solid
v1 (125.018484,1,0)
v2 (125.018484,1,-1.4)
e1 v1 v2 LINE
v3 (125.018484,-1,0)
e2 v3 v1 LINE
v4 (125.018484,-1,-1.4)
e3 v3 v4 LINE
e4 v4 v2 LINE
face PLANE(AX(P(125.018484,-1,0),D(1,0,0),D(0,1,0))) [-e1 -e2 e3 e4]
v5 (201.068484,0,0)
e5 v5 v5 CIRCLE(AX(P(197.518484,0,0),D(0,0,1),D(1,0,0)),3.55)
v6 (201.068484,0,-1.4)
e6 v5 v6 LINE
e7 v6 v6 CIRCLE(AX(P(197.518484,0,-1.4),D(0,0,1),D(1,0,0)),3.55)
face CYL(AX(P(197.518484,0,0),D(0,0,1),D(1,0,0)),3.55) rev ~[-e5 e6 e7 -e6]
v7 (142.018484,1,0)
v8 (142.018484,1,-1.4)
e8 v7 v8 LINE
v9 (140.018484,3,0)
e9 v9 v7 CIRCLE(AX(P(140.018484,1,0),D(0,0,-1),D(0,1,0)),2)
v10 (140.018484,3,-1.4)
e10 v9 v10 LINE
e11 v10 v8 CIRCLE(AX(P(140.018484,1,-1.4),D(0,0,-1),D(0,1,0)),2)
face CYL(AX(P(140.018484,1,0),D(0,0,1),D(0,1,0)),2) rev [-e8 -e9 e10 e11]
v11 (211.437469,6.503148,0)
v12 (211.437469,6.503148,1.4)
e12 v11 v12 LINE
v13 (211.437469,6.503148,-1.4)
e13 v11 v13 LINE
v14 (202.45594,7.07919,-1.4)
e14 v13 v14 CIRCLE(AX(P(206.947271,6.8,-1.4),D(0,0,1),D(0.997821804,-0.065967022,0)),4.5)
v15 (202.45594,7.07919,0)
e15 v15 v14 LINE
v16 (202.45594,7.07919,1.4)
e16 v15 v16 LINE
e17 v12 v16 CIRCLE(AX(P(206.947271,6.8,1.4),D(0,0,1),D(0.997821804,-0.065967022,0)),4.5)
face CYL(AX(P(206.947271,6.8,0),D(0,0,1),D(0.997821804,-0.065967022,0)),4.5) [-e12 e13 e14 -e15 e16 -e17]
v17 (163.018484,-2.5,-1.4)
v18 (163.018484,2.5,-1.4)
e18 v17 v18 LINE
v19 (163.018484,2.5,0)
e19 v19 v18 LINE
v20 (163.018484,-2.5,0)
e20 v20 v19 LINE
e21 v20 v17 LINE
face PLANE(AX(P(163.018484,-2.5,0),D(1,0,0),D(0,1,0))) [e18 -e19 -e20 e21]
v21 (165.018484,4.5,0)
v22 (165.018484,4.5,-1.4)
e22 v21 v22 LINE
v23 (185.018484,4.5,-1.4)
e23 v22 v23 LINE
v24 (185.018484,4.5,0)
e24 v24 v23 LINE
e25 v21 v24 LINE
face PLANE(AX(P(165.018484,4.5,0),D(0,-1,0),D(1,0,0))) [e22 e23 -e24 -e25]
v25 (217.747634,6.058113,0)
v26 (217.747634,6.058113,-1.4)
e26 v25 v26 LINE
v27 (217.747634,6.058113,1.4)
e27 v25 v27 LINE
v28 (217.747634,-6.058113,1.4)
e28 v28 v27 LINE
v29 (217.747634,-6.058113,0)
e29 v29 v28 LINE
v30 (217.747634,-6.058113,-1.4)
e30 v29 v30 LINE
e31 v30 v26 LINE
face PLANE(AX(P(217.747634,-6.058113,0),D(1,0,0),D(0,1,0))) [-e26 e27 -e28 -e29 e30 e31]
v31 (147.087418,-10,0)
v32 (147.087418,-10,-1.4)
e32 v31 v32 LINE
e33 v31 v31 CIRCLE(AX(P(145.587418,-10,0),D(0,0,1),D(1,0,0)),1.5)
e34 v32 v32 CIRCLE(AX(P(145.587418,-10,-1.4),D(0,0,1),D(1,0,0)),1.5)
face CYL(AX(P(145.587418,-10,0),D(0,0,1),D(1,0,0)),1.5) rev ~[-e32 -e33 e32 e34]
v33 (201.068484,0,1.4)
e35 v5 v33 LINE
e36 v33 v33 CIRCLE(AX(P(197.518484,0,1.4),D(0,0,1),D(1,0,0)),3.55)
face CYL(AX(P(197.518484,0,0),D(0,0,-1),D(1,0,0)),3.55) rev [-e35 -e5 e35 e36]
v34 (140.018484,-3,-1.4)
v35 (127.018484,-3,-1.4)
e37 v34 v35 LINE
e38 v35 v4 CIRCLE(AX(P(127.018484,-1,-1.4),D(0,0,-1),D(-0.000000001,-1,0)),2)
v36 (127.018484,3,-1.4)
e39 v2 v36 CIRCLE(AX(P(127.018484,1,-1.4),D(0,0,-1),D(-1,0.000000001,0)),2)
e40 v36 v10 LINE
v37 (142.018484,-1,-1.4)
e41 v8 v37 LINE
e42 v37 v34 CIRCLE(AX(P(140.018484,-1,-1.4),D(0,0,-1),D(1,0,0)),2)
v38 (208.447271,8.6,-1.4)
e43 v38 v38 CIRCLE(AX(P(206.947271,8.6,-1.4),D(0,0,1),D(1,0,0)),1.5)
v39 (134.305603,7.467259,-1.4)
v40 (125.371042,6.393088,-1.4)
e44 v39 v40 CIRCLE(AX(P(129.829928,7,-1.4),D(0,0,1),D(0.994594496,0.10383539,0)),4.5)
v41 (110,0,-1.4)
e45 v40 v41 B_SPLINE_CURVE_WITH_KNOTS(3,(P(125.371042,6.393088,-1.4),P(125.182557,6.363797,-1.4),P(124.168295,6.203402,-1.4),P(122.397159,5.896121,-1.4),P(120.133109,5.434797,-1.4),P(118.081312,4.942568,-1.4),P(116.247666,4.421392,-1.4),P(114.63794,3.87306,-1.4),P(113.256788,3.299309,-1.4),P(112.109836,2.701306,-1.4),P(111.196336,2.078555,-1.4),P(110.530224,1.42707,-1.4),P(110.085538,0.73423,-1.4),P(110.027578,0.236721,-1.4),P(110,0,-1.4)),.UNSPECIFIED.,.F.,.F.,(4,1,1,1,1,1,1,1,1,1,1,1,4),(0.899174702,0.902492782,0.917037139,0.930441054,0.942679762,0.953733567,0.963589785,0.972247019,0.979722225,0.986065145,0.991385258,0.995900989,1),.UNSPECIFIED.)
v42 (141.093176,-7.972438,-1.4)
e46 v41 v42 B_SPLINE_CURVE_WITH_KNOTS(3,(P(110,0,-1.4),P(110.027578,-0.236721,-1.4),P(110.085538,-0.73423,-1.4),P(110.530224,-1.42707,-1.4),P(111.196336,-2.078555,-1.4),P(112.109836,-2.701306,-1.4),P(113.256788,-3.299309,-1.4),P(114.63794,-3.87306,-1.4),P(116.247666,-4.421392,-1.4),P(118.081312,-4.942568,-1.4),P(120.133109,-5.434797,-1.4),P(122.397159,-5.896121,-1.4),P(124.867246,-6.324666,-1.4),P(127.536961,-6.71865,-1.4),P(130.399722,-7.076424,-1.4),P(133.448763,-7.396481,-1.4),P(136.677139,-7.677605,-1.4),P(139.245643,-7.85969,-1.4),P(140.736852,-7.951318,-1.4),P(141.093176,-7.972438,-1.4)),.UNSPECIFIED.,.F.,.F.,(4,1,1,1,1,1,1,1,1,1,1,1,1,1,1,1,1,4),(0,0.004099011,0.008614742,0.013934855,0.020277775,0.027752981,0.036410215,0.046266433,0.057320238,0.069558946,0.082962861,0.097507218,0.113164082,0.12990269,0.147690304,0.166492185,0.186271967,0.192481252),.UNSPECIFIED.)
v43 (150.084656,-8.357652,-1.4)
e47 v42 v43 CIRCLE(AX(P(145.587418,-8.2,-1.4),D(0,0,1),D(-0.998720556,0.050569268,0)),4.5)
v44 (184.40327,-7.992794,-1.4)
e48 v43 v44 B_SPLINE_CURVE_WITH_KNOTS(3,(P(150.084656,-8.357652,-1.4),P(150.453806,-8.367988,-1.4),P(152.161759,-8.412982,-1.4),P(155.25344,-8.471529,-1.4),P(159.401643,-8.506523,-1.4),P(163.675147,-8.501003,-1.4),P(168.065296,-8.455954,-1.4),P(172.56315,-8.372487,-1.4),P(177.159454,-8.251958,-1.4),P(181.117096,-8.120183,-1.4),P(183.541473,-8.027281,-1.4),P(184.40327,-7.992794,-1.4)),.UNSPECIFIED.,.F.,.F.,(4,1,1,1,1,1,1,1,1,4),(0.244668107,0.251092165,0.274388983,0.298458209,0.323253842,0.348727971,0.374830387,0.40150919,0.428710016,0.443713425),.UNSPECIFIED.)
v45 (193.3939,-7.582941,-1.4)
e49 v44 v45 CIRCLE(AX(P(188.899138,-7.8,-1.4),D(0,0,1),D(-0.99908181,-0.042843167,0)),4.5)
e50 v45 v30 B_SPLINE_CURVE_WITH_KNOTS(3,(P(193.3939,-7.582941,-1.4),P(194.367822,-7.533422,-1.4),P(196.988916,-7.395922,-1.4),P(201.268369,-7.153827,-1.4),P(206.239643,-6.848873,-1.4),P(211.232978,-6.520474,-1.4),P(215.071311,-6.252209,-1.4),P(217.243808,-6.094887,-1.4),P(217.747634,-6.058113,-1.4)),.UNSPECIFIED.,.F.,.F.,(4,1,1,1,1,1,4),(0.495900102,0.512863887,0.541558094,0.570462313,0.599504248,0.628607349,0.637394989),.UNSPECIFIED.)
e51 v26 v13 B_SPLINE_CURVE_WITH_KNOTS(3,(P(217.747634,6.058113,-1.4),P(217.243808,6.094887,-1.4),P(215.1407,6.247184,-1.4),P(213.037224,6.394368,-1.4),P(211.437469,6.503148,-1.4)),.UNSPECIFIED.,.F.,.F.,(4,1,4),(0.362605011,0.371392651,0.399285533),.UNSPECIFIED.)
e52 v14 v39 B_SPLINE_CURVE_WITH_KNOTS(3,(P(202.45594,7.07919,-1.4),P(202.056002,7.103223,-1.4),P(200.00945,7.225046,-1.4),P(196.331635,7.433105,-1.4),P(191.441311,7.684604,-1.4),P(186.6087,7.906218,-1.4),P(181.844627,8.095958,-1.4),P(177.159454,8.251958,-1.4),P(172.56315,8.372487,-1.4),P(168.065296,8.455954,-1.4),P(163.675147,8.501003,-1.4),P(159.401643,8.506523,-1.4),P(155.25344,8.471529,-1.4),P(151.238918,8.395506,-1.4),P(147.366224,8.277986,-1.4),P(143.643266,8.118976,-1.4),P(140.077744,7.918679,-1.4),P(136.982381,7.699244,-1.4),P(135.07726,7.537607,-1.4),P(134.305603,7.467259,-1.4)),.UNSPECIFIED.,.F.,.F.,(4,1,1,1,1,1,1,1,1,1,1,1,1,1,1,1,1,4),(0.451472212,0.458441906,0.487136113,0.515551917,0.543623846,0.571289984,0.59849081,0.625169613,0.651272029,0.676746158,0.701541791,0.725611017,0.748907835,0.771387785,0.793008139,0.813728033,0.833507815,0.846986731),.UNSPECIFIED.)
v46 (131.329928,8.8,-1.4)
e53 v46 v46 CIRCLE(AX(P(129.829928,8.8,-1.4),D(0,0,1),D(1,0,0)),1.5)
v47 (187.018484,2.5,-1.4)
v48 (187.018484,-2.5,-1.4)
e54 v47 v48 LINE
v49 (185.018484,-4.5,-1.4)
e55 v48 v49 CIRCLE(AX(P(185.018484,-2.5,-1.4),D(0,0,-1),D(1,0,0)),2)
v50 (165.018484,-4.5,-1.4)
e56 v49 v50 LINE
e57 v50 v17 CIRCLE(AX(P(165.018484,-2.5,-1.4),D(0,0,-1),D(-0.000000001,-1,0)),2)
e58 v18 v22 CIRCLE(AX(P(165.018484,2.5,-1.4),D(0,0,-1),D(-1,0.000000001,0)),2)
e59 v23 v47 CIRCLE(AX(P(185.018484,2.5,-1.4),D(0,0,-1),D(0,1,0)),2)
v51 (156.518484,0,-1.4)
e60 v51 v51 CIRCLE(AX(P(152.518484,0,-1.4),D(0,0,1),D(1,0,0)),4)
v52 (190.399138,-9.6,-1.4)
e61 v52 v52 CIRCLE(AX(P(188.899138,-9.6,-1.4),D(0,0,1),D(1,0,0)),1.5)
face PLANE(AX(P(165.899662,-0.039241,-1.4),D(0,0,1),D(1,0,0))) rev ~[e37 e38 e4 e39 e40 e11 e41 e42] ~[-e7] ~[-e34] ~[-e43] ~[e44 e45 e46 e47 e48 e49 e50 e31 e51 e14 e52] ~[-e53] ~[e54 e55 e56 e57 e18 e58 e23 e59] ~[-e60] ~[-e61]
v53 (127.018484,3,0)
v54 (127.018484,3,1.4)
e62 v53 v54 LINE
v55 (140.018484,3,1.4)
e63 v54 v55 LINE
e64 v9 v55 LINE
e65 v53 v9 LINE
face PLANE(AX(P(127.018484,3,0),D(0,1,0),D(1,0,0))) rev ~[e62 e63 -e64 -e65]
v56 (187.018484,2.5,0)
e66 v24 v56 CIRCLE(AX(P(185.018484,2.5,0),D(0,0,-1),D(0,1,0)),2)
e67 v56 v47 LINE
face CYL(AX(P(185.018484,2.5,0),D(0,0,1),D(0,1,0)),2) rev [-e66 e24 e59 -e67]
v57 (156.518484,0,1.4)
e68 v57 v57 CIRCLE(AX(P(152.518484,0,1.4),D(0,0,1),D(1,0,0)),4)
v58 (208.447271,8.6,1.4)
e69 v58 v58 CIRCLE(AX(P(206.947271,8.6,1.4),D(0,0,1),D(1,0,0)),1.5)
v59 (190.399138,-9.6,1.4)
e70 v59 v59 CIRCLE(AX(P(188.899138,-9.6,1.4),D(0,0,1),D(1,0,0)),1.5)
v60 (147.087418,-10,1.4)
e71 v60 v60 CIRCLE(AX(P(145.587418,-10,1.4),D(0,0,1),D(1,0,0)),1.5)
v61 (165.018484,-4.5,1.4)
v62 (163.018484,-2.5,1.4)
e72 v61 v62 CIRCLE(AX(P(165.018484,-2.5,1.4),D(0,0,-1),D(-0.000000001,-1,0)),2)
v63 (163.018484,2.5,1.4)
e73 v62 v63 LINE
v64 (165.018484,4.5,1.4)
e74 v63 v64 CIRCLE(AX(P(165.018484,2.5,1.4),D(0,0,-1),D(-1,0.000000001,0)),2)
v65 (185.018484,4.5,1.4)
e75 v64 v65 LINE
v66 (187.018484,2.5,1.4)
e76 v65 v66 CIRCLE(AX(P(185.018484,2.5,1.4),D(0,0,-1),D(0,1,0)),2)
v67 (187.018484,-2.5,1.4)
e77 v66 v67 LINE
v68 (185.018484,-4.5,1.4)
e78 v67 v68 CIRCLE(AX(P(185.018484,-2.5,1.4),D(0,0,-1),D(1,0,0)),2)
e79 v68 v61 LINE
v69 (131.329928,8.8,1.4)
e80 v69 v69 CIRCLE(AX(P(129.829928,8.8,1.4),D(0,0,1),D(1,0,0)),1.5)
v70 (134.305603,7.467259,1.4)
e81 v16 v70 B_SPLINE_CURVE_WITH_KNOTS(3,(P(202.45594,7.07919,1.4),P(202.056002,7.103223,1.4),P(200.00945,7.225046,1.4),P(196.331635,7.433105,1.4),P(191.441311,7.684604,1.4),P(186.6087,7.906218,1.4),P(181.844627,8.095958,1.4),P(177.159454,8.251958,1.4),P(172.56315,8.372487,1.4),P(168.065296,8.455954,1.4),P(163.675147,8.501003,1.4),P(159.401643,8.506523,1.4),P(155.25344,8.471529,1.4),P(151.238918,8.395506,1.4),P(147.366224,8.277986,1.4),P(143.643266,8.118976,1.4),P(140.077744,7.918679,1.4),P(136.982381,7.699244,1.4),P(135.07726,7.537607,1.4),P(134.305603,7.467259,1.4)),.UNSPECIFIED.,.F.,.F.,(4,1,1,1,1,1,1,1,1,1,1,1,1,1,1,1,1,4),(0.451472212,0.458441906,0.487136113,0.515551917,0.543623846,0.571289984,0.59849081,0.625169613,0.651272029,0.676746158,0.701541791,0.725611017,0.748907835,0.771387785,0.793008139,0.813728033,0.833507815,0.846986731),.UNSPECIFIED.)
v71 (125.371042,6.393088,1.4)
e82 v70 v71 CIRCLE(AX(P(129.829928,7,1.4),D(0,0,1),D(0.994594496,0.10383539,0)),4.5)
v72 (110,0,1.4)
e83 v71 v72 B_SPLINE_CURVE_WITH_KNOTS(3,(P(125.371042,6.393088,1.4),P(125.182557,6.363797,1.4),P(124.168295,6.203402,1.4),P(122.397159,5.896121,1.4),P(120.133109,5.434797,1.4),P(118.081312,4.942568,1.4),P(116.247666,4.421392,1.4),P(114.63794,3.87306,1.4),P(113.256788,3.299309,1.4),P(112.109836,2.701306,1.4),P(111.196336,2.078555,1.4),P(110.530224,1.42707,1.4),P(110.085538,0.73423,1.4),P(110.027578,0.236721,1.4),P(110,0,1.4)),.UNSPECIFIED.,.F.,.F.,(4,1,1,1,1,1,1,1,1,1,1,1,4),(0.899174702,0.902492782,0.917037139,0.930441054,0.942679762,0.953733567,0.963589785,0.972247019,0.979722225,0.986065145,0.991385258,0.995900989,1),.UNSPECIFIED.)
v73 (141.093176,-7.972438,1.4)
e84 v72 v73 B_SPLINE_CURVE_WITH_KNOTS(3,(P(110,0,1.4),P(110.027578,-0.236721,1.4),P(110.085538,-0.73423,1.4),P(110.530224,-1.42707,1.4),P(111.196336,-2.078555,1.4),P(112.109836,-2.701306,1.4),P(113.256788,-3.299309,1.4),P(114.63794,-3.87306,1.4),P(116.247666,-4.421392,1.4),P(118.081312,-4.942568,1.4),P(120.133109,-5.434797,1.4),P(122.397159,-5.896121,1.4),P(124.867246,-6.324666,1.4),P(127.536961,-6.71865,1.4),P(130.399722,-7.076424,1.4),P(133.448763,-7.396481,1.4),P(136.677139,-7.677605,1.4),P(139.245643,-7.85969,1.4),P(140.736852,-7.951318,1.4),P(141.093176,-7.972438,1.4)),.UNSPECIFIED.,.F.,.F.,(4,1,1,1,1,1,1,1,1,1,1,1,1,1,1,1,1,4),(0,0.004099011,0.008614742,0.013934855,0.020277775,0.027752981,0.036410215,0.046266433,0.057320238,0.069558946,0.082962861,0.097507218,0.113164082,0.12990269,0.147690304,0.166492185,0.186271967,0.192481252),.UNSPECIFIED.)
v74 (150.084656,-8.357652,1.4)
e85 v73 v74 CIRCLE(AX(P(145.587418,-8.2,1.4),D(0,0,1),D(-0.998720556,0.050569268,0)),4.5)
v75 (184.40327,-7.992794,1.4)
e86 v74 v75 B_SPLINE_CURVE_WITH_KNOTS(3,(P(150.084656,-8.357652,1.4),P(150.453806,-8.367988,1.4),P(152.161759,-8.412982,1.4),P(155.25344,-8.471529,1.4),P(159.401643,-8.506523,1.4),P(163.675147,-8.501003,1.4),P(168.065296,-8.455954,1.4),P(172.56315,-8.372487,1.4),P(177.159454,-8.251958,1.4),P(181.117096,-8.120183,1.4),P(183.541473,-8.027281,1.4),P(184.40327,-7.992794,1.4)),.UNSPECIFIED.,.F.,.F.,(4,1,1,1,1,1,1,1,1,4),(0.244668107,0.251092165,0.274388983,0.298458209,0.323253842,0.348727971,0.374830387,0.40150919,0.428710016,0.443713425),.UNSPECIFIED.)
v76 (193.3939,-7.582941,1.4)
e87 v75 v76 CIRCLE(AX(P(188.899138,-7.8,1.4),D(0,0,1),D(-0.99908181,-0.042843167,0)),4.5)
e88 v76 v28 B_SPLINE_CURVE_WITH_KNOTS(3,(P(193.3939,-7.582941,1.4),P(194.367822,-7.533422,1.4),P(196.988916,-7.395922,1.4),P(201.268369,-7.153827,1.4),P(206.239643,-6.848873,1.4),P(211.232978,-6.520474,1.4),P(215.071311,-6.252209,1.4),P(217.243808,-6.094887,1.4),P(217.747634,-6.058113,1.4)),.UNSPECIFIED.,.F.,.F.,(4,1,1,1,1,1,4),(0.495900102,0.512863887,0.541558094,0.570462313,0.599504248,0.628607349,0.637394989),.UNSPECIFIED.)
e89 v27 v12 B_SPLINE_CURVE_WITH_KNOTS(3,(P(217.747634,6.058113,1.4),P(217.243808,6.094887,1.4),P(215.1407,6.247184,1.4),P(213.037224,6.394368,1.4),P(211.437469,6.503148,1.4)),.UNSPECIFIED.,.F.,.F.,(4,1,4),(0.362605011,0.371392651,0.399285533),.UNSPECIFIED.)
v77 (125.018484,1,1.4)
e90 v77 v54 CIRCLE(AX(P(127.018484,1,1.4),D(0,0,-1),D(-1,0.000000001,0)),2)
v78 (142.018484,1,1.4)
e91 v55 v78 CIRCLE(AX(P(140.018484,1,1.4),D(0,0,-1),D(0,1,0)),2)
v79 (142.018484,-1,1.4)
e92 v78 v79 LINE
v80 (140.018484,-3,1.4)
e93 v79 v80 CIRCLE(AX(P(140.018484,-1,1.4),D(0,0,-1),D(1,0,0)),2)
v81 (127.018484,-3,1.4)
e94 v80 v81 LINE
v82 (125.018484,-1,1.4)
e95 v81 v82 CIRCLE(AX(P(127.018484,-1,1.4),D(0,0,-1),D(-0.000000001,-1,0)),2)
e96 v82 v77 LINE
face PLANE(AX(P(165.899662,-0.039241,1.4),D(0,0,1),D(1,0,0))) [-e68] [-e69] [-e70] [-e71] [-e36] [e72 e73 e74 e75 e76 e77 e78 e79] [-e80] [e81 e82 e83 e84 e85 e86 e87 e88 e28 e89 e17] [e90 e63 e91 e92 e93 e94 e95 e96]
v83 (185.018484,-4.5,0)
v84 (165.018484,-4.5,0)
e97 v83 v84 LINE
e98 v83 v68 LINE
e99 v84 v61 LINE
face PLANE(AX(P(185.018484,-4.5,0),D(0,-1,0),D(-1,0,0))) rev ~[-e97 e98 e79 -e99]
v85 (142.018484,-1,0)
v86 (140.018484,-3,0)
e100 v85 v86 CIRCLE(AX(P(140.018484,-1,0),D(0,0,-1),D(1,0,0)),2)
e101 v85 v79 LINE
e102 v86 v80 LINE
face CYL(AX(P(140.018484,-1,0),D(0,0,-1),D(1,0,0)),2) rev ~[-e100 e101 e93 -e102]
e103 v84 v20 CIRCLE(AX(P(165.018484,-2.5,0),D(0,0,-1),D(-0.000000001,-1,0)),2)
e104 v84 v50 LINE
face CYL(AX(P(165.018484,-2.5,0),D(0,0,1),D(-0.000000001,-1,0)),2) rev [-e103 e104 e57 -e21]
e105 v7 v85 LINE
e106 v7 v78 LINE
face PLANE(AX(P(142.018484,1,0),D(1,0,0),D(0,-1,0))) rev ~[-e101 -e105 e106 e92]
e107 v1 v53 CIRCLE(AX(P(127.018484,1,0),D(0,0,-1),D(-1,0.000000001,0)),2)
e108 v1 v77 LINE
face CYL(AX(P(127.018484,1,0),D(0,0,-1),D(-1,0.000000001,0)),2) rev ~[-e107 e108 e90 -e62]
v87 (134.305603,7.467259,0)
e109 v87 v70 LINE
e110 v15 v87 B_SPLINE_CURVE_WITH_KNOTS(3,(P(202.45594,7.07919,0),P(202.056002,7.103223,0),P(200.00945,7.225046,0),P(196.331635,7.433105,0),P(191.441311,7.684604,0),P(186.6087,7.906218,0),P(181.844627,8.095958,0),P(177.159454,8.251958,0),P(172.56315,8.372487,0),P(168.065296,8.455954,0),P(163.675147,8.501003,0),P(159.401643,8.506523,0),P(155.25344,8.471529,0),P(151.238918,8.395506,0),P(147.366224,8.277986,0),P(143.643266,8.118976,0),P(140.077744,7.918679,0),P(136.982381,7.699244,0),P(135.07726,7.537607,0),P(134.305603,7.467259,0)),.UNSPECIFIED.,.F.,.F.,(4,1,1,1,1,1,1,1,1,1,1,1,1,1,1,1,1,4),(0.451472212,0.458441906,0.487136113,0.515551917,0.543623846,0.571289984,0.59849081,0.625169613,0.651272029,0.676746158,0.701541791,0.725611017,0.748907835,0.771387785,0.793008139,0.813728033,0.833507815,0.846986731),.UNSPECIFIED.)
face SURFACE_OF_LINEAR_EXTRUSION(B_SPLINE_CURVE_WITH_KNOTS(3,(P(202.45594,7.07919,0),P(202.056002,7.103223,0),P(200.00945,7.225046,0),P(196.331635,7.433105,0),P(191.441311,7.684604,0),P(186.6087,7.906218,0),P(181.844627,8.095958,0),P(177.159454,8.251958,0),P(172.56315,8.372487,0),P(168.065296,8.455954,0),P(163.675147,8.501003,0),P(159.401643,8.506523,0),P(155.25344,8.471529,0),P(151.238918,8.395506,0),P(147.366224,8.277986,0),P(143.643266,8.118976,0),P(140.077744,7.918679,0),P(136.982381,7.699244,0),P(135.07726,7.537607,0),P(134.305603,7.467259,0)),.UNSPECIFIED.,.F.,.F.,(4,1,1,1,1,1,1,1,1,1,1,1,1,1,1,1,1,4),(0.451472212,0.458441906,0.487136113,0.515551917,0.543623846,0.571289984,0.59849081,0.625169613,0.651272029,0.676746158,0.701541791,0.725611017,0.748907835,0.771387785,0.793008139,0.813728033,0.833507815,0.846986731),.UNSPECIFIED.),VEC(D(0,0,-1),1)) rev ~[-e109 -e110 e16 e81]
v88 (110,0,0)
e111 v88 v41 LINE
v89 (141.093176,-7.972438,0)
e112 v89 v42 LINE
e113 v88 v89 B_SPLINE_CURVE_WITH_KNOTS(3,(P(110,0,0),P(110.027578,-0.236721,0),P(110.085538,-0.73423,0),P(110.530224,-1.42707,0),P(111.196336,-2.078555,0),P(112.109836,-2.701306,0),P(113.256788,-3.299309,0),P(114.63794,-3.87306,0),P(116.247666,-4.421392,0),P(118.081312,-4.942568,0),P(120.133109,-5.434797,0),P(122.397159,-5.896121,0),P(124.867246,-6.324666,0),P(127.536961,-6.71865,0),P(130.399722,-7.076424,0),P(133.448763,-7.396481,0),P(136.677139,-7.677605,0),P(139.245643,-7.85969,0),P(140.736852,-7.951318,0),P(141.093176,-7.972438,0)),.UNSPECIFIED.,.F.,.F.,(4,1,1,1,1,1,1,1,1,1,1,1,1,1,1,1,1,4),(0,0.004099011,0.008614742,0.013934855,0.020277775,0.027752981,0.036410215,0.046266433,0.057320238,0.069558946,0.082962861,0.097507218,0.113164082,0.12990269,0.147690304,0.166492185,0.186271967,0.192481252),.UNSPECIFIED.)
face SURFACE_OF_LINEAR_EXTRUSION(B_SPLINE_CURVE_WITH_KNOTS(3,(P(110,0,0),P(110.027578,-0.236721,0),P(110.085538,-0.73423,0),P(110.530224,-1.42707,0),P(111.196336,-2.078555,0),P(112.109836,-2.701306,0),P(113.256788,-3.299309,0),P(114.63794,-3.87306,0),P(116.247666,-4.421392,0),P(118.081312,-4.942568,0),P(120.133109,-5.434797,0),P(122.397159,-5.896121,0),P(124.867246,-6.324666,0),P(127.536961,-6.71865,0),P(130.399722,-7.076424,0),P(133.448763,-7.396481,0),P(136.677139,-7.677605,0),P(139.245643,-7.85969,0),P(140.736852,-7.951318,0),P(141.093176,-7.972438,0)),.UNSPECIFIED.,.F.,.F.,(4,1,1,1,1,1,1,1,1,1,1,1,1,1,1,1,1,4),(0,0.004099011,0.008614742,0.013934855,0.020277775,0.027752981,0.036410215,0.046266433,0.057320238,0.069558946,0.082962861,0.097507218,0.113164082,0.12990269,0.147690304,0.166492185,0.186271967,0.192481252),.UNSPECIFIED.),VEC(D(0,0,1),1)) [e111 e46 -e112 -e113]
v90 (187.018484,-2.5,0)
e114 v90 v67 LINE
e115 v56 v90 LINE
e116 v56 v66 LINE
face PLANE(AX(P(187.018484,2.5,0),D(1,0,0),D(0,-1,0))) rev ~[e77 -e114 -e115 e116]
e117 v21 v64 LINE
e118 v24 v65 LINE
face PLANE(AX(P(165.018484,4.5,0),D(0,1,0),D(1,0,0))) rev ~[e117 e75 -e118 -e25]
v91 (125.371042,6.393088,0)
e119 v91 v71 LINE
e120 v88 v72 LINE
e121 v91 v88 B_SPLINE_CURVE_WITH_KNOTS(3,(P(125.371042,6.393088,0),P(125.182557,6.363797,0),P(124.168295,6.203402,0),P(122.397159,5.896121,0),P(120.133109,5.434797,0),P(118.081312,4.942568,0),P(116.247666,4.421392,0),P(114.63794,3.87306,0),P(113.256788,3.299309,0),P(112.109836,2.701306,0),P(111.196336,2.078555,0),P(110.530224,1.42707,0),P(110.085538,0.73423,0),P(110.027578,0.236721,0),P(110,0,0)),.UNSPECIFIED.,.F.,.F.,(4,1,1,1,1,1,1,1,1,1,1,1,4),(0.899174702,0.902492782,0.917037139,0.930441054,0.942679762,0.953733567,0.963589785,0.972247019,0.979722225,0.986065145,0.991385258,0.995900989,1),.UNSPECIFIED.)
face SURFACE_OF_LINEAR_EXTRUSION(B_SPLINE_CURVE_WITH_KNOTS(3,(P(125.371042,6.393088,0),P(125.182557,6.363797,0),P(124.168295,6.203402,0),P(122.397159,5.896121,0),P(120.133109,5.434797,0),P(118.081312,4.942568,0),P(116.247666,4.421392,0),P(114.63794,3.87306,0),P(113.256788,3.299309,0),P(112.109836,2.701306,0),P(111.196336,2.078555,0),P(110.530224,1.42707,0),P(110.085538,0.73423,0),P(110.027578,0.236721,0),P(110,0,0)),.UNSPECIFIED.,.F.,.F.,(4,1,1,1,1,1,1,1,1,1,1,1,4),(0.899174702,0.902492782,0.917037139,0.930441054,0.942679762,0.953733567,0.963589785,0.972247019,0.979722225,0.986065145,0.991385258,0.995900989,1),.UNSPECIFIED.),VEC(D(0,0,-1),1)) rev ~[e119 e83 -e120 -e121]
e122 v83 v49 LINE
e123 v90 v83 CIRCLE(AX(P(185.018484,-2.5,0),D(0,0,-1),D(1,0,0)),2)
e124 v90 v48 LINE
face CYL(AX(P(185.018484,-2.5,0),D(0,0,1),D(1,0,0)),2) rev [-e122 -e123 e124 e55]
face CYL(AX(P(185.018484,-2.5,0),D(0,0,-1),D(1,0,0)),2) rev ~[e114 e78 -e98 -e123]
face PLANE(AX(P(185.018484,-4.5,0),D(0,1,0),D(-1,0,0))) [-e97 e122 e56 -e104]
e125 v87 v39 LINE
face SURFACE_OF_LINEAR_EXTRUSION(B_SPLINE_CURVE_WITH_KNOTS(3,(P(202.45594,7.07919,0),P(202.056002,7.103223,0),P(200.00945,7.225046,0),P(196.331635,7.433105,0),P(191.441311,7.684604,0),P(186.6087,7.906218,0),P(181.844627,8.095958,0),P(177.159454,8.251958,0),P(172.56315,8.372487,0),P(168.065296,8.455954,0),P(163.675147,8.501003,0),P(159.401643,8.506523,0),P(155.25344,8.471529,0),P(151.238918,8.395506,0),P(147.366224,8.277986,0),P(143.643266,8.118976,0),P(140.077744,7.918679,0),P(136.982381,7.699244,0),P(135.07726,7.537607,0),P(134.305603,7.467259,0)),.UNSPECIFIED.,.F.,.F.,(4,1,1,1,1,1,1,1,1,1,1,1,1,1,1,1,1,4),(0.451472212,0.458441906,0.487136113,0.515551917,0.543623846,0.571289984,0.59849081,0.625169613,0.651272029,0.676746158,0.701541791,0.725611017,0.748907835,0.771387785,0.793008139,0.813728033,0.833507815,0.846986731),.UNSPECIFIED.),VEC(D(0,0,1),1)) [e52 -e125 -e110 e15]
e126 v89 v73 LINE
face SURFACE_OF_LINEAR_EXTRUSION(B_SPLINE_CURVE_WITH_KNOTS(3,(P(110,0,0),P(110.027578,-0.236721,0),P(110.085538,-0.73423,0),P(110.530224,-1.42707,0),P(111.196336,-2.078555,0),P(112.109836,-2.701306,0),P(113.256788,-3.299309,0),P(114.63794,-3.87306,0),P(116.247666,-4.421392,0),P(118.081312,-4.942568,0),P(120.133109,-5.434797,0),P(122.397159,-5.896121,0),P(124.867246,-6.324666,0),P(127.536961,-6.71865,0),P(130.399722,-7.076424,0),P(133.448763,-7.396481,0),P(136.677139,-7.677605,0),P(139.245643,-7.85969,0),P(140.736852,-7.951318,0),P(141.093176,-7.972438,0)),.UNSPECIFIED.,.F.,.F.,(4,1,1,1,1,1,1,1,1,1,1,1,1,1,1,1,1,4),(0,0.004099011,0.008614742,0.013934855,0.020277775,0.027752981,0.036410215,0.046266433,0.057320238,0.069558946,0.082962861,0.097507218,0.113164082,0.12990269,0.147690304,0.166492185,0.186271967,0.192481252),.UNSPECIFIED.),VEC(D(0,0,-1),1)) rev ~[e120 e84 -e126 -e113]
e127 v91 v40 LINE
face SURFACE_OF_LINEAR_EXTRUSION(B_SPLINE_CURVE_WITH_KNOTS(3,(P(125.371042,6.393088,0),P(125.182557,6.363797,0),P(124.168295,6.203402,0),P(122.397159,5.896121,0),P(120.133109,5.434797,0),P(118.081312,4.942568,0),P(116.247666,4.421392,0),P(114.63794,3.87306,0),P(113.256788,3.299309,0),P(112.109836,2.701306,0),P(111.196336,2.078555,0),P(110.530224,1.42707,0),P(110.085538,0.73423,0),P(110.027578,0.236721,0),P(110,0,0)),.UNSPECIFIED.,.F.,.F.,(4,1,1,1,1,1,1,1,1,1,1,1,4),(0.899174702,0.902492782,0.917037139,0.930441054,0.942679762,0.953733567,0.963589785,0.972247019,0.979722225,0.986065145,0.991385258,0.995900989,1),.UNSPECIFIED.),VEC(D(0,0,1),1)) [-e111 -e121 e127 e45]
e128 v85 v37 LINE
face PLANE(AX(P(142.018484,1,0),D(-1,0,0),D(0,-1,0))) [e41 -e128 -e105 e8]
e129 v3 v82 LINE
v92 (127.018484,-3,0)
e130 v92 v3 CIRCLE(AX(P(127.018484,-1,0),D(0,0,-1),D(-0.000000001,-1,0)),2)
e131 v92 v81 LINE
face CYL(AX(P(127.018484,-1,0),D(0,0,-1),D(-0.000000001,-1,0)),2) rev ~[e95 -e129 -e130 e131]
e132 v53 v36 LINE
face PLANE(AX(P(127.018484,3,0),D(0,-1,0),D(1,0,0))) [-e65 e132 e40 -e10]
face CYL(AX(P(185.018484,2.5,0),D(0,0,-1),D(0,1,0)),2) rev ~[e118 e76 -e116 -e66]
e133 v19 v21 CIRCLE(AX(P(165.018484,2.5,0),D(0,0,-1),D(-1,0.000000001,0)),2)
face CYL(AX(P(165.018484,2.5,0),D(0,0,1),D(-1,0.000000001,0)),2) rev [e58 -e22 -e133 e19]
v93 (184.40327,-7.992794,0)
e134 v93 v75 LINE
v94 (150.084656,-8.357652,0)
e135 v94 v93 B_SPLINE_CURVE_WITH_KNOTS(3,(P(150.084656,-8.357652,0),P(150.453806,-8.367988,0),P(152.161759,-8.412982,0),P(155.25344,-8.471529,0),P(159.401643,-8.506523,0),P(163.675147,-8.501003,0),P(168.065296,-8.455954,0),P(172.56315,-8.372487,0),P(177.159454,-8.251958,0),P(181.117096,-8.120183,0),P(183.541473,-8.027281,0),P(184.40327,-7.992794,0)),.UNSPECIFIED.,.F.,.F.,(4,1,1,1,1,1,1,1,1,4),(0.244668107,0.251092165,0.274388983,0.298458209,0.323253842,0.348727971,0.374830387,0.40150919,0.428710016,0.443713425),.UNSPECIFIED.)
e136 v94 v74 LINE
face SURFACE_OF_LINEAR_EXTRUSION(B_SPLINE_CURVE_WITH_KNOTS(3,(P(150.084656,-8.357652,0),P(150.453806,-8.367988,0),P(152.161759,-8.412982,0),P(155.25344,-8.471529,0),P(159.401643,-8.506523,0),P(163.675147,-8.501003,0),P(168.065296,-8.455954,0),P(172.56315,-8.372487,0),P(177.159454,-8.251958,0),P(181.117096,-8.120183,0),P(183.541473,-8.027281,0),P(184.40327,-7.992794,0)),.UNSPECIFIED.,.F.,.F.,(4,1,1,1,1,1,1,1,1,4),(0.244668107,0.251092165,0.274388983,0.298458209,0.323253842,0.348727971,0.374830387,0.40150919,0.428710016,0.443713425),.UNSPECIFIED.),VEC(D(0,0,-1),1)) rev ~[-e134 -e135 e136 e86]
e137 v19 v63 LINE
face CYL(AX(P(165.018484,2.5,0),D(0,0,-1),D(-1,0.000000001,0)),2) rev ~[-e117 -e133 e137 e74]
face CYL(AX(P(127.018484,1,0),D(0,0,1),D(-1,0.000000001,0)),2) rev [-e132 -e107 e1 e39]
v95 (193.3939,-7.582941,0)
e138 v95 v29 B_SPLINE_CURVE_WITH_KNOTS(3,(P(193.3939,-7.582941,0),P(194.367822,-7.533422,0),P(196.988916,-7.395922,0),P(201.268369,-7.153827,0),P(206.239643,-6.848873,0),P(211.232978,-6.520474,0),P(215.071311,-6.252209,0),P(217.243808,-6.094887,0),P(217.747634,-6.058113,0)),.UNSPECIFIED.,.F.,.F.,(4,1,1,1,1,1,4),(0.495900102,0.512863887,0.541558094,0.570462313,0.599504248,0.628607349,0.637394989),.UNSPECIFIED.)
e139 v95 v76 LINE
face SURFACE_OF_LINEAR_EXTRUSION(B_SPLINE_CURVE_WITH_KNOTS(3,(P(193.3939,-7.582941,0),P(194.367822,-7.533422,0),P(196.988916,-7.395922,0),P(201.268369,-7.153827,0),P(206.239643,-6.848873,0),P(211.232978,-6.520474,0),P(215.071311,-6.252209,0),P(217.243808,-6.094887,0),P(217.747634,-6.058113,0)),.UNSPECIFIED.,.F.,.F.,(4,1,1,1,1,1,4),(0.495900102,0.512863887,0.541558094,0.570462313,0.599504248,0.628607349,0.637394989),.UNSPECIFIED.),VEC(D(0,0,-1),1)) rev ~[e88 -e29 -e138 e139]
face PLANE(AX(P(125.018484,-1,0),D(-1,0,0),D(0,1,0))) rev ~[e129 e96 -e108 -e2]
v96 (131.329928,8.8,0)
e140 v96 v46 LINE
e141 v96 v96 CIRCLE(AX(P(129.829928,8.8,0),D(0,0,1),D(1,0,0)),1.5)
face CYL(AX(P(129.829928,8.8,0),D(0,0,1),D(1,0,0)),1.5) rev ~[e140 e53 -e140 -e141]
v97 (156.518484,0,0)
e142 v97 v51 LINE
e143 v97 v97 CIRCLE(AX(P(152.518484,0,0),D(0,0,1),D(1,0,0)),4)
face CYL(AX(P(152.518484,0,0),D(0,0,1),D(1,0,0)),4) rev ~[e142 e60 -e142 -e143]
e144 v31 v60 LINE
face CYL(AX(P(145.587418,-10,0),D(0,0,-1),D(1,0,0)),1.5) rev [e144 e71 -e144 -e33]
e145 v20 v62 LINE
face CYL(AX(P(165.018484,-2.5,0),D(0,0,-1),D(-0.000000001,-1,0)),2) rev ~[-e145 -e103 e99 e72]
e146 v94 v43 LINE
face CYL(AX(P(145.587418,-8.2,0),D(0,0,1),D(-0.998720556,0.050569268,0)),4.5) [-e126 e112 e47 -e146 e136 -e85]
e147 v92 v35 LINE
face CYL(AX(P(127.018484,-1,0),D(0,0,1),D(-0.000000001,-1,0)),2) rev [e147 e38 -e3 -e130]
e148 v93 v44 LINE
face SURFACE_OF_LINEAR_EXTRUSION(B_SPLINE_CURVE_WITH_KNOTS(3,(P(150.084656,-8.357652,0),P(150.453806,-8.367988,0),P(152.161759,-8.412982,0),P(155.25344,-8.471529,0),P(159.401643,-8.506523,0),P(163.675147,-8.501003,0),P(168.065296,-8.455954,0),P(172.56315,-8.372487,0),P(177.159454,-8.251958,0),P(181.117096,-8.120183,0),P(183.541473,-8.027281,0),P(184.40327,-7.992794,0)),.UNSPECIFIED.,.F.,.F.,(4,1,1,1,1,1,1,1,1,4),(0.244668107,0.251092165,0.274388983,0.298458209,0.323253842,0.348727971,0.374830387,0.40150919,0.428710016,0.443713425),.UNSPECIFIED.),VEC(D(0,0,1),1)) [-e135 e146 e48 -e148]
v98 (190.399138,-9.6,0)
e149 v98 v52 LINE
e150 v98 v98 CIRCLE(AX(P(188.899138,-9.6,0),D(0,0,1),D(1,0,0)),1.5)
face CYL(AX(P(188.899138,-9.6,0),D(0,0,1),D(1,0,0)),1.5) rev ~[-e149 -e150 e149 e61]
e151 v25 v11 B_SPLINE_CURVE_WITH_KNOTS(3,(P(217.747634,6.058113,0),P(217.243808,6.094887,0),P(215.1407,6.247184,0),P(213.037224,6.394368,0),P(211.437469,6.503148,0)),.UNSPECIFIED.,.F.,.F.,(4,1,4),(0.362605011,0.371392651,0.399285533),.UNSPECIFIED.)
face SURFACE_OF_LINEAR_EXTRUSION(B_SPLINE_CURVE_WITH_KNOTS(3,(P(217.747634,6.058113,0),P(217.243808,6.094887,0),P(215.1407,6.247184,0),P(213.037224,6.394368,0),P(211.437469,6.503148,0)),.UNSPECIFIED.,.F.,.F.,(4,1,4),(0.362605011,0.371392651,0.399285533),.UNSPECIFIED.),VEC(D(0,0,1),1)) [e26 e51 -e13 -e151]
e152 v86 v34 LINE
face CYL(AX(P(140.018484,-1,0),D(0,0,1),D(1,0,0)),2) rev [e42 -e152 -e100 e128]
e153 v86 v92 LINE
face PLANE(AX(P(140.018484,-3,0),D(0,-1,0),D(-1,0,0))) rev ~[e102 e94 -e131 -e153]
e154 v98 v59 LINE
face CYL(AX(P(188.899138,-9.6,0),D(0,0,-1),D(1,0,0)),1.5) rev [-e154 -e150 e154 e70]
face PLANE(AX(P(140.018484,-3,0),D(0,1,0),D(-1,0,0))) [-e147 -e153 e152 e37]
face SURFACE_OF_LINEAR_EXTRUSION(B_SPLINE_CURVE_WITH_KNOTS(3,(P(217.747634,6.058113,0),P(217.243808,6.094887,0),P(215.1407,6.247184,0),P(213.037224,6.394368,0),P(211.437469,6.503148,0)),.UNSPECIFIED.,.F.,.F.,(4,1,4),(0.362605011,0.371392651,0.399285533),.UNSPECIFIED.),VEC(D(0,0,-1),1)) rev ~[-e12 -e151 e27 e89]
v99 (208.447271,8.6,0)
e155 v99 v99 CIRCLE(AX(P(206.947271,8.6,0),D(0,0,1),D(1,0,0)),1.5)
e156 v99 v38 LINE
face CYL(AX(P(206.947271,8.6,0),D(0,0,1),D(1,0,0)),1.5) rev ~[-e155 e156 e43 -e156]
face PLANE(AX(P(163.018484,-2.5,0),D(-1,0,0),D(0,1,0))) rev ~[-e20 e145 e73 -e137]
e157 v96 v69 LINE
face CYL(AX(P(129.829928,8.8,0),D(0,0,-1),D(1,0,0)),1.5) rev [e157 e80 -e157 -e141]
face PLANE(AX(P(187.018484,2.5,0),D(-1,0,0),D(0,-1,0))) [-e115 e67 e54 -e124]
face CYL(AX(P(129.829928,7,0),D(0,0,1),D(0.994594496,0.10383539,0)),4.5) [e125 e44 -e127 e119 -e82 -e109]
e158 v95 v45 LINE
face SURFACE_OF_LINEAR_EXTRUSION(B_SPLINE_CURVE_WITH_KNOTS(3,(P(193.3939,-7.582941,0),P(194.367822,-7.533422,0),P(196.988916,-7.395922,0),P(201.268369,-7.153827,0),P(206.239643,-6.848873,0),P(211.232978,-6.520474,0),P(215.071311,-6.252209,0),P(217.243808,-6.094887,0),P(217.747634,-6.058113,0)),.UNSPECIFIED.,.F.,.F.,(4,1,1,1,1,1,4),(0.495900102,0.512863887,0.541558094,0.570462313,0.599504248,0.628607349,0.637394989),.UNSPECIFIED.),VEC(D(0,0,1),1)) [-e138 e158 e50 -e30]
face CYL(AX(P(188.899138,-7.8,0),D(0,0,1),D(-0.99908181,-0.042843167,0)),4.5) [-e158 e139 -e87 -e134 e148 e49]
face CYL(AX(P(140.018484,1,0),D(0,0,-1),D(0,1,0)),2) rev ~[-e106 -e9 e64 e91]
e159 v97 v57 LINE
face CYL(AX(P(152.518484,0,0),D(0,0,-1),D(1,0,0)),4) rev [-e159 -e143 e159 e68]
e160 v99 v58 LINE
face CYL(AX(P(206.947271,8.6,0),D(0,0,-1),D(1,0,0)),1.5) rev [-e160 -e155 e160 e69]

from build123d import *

# Parameters (mm, degrees)
SKETCH_1_R      = 1.5
SKETCH_1_R_2    = 4
SKETCH_1_R_3    = 3.55
EXTRUDE_1_DEPTH = 1.4


with BuildPart() as part:
    # Эскиз1 → Бобышка-Вытянуть1 (new, symmetric)
    with BuildSketch(Plane.XY):
        with BuildLine():
            Line((217.747634119, 0), (217.747634119, 6.058113078))
            add(Edge.make_bspline(
                [(217.747634119, 6.058113078), (217.243808474, 6.094887376), (215.140700226, 6.247183834), (213.037224342, 6.394367799), (211.437469318, 6.503148402)],
                knots=[0.362605011, 0.362605011, 0.362605011, 0.362605011, 0.371392651, 0.399285533, 0.399285533, 0.399285533, 0.399285533], degree=3))
            ThreePointArc((211.437469318, 6.503148402), (207.235292618, 11.29077317), (202.455940343, 7.079190122))
            add(Edge.make_bspline(
                [(202.455940343, 7.079190122), (202.056002141, 7.103223291), (200.009450225, 7.225045801), (196.331634567, 7.433105337), (191.441311474, 7.684604439), (186.608700127, 7.906218293), (181.844626933, 8.095958493), (177.159453511, 8.251957682), (172.563150272, 8.372486564), (168.065295924, 8.455953662), (163.675147454, 8.5010027), (159.401643404, 8.506522967), (155.253439756, 8.471528808), (151.238917925, 8.395506076), (147.366223919, 8.277985977), (143.643266298, 8.118975561), (140.077743555, 7.918678943), (136.982380939, 7.699243614), (135.077259612, 7.537606821), (134.305602735, 7.467259257)],
                knots=[0.451472212, 0.451472212, 0.451472212, 0.451472212, 0.458441906, 0.487136113, 0.515551917, 0.543623846, 0.571289984, 0.59849081, 0.625169613, 0.651272029, 0.676746158, 0.701541791, 0.725611017, 0.748907835, 0.771387785, 0.793008139, 0.813728033, 0.833507815, 0.846986731, 0.846986731, 0.846986731, 0.846986731], degree=3))
            ThreePointArc((134.305602735, 7.467259257), (129.292776458, 11.467825954), (125.371042184, 6.393088379))
            add(Edge.make_bspline(
                [(125.371042184, 6.393088379), (125.182557358, 6.363796993), (124.168294515, 6.203402144), (122.397158974, 5.896120566), (120.133109351, 5.434797476), (118.081312133, 4.94256764), (116.247665798, 4.421392386), (114.63793972, 3.873060465), (113.256788366, 3.299309237), (112.109835924, 2.701306387), (111.196336341, 2.078555233), (110.530223642, 1.427069758), (110.085538218, 0.73423022), (110.027578176, 0.23672144), (110, 0)],
                knots=[0.899174702, 0.899174702, 0.899174702, 0.899174702, 0.902492782, 0.917037139, 0.930441054, 0.942679762, 0.953733567, 0.963589785, 0.972247019, 0.979722225, 0.986065145, 0.991385258, 0.995900989, 1, 1, 1, 1], degree=3))
            add(Edge.make_bspline(
                [(110, 0), (110.027578176, -0.236721441), (110.085538218, -0.734230221), (110.530223642, -1.427069759), (111.196336341, -2.078555234), (112.109835924, -2.701306388), (113.256788366, -3.299309238), (114.63793972, -3.873060466), (116.247665798, -4.421392387), (118.081312133, -4.942567641), (120.133109351, -5.434797477), (122.397158974, -5.896120567), (124.867245825, -6.324666078), (127.536961089, -6.718650341), (130.399721686, -7.076424311), (133.448762895, -7.396480569), (136.677139412, -7.677604542), (139.245643336, -7.859689995), (140.736851964, -7.951317752), (141.093175889, -7.972438296)],
                knots=[0, 0, 0, 0, 0.004099011, 0.008614742, 0.013934855, 0.020277775, 0.027752981, 0.036410215, 0.046266433, 0.057320238, 0.069558946, 0.082962861, 0.097507218, 0.113164082, 0.12990269, 0.147690304, 0.166492185, 0.186271967, 0.192481252, 0.192481252, 0.192481252, 0.192481252], degree=3))
            ThreePointArc((141.093175889, -7.972438296), (145.394805922, -12.695875937), (150.084655985, -8.35765159))
            add(Edge.make_bspline(
                [(150.084655985, -8.35765159), (150.453806444, -8.367988388), (152.161758649, -8.412981849), (155.253439756, -8.471528808), (159.401643404, -8.506522967), (163.675147454, -8.5010027), (168.065295924, -8.455953663), (172.563150272, -8.372486564), (177.159453511, -8.251957682), (181.117095872, -8.120182624), (183.541473355, -8.027281081), (184.403269889, -7.992794251)],
                knots=[0.244668107, 0.244668107, 0.244668107, 0.244668107, 0.251092165, 0.274388983, 0.298458209, 0.323253842, 0.348727971, 0.374830387, 0.40150919, 0.428710016, 0.443713425, 0.443713425, 0.443713425, 0.443713425], degree=3))
            ThreePointArc((184.403269889, -7.992794251), (189.104065456, -12.29533144), (193.393900024, -7.582940899))
            add(Edge.make_bspline(
                [(193.393900024, -7.582940899), (194.367821921, -7.533422186), (196.98891626, -7.395921928), (201.268368917, -7.153826886), (206.239642946, -6.848873), (211.232977593, -6.52047435), (215.071311266, -6.252208631), (217.243808474, -6.094887376), (217.747634119, -6.058113078)],
                knots=[0.495900102, 0.495900102, 0.495900102, 0.495900102, 0.512863887, 0.541558094, 0.570462313, 0.599504248, 0.628607349, 0.637394989, 0.637394989, 0.637394989, 0.637394989], degree=3))
            Line((217.747634119, -6.058113078), (217.747634119, 0))
        make_face()
        with Locations((145.587418391, -10)):
            Circle(SKETCH_1_R, mode=Mode.SUBTRACT)
        with Locations((188.899138034, -9.6)):
            Circle(SKETCH_1_R, mode=Mode.SUBTRACT)
        with BuildLine():
            Line((140.01848428, -3), (127.01848428, -3))
            ThreePointArc((127.01848428, -3), (125.604270718, -2.414213562), (125.01848428, -1))
            Line((125.01848428, -1), (125.01848428, 1))
            ThreePointArc((125.01848428, 1), (125.604270718, 2.414213562), (127.01848428, 3))
            Line((127.01848428, 3), (140.01848428, 3))
            ThreePointArc((140.01848428, 3), (141.432697843, 2.414213562), (142.01848428, 1))
            Line((142.01848428, 1), (142.01848428, -1))
            ThreePointArc((142.01848428, -1), (141.432697843, -2.414213562), (140.01848428, -3))
        make_face(mode=Mode.SUBTRACT)
        with Locations((152.51848428, 0)):
            Circle(SKETCH_1_R_2, mode=Mode.SUBTRACT)
        with BuildLine():
            Line((185.01848428, -4.5), (165.01848428, -4.5))
            ThreePointArc((165.01848428, -4.5), (163.604270718, -3.914213562), (163.01848428, -2.5))
            Line((163.01848428, -2.5), (163.01848428, 2.5))
            ThreePointArc((163.01848428, 2.5), (163.604270718, 3.914213562), (165.01848428, 4.5))
            Line((165.01848428, 4.5), (185.01848428, 4.5))
            ThreePointArc((185.01848428, 4.5), (186.432697843, 3.914213562), (187.01848428, 2.5))
            Line((187.01848428, 2.5), (187.01848428, -2.5))
            ThreePointArc((187.01848428, -2.5), (186.432697843, -3.914213562), (185.01848428, -4.5))
        make_face(mode=Mode.SUBTRACT)
        with Locations((129.829927502, 8.8)):
            Circle(SKETCH_1_R, mode=Mode.SUBTRACT)
        with Locations((197.51848428, 0)):
            Circle(SKETCH_1_R_3, mode=Mode.SUBTRACT)
        with Locations((206.947271201, 8.6)):
            Circle(SKETCH_1_R, mode=Mode.SUBTRACT)
    extrude(amount=EXTRUDE_1_DEPTH, both=True)


solid = part.part
